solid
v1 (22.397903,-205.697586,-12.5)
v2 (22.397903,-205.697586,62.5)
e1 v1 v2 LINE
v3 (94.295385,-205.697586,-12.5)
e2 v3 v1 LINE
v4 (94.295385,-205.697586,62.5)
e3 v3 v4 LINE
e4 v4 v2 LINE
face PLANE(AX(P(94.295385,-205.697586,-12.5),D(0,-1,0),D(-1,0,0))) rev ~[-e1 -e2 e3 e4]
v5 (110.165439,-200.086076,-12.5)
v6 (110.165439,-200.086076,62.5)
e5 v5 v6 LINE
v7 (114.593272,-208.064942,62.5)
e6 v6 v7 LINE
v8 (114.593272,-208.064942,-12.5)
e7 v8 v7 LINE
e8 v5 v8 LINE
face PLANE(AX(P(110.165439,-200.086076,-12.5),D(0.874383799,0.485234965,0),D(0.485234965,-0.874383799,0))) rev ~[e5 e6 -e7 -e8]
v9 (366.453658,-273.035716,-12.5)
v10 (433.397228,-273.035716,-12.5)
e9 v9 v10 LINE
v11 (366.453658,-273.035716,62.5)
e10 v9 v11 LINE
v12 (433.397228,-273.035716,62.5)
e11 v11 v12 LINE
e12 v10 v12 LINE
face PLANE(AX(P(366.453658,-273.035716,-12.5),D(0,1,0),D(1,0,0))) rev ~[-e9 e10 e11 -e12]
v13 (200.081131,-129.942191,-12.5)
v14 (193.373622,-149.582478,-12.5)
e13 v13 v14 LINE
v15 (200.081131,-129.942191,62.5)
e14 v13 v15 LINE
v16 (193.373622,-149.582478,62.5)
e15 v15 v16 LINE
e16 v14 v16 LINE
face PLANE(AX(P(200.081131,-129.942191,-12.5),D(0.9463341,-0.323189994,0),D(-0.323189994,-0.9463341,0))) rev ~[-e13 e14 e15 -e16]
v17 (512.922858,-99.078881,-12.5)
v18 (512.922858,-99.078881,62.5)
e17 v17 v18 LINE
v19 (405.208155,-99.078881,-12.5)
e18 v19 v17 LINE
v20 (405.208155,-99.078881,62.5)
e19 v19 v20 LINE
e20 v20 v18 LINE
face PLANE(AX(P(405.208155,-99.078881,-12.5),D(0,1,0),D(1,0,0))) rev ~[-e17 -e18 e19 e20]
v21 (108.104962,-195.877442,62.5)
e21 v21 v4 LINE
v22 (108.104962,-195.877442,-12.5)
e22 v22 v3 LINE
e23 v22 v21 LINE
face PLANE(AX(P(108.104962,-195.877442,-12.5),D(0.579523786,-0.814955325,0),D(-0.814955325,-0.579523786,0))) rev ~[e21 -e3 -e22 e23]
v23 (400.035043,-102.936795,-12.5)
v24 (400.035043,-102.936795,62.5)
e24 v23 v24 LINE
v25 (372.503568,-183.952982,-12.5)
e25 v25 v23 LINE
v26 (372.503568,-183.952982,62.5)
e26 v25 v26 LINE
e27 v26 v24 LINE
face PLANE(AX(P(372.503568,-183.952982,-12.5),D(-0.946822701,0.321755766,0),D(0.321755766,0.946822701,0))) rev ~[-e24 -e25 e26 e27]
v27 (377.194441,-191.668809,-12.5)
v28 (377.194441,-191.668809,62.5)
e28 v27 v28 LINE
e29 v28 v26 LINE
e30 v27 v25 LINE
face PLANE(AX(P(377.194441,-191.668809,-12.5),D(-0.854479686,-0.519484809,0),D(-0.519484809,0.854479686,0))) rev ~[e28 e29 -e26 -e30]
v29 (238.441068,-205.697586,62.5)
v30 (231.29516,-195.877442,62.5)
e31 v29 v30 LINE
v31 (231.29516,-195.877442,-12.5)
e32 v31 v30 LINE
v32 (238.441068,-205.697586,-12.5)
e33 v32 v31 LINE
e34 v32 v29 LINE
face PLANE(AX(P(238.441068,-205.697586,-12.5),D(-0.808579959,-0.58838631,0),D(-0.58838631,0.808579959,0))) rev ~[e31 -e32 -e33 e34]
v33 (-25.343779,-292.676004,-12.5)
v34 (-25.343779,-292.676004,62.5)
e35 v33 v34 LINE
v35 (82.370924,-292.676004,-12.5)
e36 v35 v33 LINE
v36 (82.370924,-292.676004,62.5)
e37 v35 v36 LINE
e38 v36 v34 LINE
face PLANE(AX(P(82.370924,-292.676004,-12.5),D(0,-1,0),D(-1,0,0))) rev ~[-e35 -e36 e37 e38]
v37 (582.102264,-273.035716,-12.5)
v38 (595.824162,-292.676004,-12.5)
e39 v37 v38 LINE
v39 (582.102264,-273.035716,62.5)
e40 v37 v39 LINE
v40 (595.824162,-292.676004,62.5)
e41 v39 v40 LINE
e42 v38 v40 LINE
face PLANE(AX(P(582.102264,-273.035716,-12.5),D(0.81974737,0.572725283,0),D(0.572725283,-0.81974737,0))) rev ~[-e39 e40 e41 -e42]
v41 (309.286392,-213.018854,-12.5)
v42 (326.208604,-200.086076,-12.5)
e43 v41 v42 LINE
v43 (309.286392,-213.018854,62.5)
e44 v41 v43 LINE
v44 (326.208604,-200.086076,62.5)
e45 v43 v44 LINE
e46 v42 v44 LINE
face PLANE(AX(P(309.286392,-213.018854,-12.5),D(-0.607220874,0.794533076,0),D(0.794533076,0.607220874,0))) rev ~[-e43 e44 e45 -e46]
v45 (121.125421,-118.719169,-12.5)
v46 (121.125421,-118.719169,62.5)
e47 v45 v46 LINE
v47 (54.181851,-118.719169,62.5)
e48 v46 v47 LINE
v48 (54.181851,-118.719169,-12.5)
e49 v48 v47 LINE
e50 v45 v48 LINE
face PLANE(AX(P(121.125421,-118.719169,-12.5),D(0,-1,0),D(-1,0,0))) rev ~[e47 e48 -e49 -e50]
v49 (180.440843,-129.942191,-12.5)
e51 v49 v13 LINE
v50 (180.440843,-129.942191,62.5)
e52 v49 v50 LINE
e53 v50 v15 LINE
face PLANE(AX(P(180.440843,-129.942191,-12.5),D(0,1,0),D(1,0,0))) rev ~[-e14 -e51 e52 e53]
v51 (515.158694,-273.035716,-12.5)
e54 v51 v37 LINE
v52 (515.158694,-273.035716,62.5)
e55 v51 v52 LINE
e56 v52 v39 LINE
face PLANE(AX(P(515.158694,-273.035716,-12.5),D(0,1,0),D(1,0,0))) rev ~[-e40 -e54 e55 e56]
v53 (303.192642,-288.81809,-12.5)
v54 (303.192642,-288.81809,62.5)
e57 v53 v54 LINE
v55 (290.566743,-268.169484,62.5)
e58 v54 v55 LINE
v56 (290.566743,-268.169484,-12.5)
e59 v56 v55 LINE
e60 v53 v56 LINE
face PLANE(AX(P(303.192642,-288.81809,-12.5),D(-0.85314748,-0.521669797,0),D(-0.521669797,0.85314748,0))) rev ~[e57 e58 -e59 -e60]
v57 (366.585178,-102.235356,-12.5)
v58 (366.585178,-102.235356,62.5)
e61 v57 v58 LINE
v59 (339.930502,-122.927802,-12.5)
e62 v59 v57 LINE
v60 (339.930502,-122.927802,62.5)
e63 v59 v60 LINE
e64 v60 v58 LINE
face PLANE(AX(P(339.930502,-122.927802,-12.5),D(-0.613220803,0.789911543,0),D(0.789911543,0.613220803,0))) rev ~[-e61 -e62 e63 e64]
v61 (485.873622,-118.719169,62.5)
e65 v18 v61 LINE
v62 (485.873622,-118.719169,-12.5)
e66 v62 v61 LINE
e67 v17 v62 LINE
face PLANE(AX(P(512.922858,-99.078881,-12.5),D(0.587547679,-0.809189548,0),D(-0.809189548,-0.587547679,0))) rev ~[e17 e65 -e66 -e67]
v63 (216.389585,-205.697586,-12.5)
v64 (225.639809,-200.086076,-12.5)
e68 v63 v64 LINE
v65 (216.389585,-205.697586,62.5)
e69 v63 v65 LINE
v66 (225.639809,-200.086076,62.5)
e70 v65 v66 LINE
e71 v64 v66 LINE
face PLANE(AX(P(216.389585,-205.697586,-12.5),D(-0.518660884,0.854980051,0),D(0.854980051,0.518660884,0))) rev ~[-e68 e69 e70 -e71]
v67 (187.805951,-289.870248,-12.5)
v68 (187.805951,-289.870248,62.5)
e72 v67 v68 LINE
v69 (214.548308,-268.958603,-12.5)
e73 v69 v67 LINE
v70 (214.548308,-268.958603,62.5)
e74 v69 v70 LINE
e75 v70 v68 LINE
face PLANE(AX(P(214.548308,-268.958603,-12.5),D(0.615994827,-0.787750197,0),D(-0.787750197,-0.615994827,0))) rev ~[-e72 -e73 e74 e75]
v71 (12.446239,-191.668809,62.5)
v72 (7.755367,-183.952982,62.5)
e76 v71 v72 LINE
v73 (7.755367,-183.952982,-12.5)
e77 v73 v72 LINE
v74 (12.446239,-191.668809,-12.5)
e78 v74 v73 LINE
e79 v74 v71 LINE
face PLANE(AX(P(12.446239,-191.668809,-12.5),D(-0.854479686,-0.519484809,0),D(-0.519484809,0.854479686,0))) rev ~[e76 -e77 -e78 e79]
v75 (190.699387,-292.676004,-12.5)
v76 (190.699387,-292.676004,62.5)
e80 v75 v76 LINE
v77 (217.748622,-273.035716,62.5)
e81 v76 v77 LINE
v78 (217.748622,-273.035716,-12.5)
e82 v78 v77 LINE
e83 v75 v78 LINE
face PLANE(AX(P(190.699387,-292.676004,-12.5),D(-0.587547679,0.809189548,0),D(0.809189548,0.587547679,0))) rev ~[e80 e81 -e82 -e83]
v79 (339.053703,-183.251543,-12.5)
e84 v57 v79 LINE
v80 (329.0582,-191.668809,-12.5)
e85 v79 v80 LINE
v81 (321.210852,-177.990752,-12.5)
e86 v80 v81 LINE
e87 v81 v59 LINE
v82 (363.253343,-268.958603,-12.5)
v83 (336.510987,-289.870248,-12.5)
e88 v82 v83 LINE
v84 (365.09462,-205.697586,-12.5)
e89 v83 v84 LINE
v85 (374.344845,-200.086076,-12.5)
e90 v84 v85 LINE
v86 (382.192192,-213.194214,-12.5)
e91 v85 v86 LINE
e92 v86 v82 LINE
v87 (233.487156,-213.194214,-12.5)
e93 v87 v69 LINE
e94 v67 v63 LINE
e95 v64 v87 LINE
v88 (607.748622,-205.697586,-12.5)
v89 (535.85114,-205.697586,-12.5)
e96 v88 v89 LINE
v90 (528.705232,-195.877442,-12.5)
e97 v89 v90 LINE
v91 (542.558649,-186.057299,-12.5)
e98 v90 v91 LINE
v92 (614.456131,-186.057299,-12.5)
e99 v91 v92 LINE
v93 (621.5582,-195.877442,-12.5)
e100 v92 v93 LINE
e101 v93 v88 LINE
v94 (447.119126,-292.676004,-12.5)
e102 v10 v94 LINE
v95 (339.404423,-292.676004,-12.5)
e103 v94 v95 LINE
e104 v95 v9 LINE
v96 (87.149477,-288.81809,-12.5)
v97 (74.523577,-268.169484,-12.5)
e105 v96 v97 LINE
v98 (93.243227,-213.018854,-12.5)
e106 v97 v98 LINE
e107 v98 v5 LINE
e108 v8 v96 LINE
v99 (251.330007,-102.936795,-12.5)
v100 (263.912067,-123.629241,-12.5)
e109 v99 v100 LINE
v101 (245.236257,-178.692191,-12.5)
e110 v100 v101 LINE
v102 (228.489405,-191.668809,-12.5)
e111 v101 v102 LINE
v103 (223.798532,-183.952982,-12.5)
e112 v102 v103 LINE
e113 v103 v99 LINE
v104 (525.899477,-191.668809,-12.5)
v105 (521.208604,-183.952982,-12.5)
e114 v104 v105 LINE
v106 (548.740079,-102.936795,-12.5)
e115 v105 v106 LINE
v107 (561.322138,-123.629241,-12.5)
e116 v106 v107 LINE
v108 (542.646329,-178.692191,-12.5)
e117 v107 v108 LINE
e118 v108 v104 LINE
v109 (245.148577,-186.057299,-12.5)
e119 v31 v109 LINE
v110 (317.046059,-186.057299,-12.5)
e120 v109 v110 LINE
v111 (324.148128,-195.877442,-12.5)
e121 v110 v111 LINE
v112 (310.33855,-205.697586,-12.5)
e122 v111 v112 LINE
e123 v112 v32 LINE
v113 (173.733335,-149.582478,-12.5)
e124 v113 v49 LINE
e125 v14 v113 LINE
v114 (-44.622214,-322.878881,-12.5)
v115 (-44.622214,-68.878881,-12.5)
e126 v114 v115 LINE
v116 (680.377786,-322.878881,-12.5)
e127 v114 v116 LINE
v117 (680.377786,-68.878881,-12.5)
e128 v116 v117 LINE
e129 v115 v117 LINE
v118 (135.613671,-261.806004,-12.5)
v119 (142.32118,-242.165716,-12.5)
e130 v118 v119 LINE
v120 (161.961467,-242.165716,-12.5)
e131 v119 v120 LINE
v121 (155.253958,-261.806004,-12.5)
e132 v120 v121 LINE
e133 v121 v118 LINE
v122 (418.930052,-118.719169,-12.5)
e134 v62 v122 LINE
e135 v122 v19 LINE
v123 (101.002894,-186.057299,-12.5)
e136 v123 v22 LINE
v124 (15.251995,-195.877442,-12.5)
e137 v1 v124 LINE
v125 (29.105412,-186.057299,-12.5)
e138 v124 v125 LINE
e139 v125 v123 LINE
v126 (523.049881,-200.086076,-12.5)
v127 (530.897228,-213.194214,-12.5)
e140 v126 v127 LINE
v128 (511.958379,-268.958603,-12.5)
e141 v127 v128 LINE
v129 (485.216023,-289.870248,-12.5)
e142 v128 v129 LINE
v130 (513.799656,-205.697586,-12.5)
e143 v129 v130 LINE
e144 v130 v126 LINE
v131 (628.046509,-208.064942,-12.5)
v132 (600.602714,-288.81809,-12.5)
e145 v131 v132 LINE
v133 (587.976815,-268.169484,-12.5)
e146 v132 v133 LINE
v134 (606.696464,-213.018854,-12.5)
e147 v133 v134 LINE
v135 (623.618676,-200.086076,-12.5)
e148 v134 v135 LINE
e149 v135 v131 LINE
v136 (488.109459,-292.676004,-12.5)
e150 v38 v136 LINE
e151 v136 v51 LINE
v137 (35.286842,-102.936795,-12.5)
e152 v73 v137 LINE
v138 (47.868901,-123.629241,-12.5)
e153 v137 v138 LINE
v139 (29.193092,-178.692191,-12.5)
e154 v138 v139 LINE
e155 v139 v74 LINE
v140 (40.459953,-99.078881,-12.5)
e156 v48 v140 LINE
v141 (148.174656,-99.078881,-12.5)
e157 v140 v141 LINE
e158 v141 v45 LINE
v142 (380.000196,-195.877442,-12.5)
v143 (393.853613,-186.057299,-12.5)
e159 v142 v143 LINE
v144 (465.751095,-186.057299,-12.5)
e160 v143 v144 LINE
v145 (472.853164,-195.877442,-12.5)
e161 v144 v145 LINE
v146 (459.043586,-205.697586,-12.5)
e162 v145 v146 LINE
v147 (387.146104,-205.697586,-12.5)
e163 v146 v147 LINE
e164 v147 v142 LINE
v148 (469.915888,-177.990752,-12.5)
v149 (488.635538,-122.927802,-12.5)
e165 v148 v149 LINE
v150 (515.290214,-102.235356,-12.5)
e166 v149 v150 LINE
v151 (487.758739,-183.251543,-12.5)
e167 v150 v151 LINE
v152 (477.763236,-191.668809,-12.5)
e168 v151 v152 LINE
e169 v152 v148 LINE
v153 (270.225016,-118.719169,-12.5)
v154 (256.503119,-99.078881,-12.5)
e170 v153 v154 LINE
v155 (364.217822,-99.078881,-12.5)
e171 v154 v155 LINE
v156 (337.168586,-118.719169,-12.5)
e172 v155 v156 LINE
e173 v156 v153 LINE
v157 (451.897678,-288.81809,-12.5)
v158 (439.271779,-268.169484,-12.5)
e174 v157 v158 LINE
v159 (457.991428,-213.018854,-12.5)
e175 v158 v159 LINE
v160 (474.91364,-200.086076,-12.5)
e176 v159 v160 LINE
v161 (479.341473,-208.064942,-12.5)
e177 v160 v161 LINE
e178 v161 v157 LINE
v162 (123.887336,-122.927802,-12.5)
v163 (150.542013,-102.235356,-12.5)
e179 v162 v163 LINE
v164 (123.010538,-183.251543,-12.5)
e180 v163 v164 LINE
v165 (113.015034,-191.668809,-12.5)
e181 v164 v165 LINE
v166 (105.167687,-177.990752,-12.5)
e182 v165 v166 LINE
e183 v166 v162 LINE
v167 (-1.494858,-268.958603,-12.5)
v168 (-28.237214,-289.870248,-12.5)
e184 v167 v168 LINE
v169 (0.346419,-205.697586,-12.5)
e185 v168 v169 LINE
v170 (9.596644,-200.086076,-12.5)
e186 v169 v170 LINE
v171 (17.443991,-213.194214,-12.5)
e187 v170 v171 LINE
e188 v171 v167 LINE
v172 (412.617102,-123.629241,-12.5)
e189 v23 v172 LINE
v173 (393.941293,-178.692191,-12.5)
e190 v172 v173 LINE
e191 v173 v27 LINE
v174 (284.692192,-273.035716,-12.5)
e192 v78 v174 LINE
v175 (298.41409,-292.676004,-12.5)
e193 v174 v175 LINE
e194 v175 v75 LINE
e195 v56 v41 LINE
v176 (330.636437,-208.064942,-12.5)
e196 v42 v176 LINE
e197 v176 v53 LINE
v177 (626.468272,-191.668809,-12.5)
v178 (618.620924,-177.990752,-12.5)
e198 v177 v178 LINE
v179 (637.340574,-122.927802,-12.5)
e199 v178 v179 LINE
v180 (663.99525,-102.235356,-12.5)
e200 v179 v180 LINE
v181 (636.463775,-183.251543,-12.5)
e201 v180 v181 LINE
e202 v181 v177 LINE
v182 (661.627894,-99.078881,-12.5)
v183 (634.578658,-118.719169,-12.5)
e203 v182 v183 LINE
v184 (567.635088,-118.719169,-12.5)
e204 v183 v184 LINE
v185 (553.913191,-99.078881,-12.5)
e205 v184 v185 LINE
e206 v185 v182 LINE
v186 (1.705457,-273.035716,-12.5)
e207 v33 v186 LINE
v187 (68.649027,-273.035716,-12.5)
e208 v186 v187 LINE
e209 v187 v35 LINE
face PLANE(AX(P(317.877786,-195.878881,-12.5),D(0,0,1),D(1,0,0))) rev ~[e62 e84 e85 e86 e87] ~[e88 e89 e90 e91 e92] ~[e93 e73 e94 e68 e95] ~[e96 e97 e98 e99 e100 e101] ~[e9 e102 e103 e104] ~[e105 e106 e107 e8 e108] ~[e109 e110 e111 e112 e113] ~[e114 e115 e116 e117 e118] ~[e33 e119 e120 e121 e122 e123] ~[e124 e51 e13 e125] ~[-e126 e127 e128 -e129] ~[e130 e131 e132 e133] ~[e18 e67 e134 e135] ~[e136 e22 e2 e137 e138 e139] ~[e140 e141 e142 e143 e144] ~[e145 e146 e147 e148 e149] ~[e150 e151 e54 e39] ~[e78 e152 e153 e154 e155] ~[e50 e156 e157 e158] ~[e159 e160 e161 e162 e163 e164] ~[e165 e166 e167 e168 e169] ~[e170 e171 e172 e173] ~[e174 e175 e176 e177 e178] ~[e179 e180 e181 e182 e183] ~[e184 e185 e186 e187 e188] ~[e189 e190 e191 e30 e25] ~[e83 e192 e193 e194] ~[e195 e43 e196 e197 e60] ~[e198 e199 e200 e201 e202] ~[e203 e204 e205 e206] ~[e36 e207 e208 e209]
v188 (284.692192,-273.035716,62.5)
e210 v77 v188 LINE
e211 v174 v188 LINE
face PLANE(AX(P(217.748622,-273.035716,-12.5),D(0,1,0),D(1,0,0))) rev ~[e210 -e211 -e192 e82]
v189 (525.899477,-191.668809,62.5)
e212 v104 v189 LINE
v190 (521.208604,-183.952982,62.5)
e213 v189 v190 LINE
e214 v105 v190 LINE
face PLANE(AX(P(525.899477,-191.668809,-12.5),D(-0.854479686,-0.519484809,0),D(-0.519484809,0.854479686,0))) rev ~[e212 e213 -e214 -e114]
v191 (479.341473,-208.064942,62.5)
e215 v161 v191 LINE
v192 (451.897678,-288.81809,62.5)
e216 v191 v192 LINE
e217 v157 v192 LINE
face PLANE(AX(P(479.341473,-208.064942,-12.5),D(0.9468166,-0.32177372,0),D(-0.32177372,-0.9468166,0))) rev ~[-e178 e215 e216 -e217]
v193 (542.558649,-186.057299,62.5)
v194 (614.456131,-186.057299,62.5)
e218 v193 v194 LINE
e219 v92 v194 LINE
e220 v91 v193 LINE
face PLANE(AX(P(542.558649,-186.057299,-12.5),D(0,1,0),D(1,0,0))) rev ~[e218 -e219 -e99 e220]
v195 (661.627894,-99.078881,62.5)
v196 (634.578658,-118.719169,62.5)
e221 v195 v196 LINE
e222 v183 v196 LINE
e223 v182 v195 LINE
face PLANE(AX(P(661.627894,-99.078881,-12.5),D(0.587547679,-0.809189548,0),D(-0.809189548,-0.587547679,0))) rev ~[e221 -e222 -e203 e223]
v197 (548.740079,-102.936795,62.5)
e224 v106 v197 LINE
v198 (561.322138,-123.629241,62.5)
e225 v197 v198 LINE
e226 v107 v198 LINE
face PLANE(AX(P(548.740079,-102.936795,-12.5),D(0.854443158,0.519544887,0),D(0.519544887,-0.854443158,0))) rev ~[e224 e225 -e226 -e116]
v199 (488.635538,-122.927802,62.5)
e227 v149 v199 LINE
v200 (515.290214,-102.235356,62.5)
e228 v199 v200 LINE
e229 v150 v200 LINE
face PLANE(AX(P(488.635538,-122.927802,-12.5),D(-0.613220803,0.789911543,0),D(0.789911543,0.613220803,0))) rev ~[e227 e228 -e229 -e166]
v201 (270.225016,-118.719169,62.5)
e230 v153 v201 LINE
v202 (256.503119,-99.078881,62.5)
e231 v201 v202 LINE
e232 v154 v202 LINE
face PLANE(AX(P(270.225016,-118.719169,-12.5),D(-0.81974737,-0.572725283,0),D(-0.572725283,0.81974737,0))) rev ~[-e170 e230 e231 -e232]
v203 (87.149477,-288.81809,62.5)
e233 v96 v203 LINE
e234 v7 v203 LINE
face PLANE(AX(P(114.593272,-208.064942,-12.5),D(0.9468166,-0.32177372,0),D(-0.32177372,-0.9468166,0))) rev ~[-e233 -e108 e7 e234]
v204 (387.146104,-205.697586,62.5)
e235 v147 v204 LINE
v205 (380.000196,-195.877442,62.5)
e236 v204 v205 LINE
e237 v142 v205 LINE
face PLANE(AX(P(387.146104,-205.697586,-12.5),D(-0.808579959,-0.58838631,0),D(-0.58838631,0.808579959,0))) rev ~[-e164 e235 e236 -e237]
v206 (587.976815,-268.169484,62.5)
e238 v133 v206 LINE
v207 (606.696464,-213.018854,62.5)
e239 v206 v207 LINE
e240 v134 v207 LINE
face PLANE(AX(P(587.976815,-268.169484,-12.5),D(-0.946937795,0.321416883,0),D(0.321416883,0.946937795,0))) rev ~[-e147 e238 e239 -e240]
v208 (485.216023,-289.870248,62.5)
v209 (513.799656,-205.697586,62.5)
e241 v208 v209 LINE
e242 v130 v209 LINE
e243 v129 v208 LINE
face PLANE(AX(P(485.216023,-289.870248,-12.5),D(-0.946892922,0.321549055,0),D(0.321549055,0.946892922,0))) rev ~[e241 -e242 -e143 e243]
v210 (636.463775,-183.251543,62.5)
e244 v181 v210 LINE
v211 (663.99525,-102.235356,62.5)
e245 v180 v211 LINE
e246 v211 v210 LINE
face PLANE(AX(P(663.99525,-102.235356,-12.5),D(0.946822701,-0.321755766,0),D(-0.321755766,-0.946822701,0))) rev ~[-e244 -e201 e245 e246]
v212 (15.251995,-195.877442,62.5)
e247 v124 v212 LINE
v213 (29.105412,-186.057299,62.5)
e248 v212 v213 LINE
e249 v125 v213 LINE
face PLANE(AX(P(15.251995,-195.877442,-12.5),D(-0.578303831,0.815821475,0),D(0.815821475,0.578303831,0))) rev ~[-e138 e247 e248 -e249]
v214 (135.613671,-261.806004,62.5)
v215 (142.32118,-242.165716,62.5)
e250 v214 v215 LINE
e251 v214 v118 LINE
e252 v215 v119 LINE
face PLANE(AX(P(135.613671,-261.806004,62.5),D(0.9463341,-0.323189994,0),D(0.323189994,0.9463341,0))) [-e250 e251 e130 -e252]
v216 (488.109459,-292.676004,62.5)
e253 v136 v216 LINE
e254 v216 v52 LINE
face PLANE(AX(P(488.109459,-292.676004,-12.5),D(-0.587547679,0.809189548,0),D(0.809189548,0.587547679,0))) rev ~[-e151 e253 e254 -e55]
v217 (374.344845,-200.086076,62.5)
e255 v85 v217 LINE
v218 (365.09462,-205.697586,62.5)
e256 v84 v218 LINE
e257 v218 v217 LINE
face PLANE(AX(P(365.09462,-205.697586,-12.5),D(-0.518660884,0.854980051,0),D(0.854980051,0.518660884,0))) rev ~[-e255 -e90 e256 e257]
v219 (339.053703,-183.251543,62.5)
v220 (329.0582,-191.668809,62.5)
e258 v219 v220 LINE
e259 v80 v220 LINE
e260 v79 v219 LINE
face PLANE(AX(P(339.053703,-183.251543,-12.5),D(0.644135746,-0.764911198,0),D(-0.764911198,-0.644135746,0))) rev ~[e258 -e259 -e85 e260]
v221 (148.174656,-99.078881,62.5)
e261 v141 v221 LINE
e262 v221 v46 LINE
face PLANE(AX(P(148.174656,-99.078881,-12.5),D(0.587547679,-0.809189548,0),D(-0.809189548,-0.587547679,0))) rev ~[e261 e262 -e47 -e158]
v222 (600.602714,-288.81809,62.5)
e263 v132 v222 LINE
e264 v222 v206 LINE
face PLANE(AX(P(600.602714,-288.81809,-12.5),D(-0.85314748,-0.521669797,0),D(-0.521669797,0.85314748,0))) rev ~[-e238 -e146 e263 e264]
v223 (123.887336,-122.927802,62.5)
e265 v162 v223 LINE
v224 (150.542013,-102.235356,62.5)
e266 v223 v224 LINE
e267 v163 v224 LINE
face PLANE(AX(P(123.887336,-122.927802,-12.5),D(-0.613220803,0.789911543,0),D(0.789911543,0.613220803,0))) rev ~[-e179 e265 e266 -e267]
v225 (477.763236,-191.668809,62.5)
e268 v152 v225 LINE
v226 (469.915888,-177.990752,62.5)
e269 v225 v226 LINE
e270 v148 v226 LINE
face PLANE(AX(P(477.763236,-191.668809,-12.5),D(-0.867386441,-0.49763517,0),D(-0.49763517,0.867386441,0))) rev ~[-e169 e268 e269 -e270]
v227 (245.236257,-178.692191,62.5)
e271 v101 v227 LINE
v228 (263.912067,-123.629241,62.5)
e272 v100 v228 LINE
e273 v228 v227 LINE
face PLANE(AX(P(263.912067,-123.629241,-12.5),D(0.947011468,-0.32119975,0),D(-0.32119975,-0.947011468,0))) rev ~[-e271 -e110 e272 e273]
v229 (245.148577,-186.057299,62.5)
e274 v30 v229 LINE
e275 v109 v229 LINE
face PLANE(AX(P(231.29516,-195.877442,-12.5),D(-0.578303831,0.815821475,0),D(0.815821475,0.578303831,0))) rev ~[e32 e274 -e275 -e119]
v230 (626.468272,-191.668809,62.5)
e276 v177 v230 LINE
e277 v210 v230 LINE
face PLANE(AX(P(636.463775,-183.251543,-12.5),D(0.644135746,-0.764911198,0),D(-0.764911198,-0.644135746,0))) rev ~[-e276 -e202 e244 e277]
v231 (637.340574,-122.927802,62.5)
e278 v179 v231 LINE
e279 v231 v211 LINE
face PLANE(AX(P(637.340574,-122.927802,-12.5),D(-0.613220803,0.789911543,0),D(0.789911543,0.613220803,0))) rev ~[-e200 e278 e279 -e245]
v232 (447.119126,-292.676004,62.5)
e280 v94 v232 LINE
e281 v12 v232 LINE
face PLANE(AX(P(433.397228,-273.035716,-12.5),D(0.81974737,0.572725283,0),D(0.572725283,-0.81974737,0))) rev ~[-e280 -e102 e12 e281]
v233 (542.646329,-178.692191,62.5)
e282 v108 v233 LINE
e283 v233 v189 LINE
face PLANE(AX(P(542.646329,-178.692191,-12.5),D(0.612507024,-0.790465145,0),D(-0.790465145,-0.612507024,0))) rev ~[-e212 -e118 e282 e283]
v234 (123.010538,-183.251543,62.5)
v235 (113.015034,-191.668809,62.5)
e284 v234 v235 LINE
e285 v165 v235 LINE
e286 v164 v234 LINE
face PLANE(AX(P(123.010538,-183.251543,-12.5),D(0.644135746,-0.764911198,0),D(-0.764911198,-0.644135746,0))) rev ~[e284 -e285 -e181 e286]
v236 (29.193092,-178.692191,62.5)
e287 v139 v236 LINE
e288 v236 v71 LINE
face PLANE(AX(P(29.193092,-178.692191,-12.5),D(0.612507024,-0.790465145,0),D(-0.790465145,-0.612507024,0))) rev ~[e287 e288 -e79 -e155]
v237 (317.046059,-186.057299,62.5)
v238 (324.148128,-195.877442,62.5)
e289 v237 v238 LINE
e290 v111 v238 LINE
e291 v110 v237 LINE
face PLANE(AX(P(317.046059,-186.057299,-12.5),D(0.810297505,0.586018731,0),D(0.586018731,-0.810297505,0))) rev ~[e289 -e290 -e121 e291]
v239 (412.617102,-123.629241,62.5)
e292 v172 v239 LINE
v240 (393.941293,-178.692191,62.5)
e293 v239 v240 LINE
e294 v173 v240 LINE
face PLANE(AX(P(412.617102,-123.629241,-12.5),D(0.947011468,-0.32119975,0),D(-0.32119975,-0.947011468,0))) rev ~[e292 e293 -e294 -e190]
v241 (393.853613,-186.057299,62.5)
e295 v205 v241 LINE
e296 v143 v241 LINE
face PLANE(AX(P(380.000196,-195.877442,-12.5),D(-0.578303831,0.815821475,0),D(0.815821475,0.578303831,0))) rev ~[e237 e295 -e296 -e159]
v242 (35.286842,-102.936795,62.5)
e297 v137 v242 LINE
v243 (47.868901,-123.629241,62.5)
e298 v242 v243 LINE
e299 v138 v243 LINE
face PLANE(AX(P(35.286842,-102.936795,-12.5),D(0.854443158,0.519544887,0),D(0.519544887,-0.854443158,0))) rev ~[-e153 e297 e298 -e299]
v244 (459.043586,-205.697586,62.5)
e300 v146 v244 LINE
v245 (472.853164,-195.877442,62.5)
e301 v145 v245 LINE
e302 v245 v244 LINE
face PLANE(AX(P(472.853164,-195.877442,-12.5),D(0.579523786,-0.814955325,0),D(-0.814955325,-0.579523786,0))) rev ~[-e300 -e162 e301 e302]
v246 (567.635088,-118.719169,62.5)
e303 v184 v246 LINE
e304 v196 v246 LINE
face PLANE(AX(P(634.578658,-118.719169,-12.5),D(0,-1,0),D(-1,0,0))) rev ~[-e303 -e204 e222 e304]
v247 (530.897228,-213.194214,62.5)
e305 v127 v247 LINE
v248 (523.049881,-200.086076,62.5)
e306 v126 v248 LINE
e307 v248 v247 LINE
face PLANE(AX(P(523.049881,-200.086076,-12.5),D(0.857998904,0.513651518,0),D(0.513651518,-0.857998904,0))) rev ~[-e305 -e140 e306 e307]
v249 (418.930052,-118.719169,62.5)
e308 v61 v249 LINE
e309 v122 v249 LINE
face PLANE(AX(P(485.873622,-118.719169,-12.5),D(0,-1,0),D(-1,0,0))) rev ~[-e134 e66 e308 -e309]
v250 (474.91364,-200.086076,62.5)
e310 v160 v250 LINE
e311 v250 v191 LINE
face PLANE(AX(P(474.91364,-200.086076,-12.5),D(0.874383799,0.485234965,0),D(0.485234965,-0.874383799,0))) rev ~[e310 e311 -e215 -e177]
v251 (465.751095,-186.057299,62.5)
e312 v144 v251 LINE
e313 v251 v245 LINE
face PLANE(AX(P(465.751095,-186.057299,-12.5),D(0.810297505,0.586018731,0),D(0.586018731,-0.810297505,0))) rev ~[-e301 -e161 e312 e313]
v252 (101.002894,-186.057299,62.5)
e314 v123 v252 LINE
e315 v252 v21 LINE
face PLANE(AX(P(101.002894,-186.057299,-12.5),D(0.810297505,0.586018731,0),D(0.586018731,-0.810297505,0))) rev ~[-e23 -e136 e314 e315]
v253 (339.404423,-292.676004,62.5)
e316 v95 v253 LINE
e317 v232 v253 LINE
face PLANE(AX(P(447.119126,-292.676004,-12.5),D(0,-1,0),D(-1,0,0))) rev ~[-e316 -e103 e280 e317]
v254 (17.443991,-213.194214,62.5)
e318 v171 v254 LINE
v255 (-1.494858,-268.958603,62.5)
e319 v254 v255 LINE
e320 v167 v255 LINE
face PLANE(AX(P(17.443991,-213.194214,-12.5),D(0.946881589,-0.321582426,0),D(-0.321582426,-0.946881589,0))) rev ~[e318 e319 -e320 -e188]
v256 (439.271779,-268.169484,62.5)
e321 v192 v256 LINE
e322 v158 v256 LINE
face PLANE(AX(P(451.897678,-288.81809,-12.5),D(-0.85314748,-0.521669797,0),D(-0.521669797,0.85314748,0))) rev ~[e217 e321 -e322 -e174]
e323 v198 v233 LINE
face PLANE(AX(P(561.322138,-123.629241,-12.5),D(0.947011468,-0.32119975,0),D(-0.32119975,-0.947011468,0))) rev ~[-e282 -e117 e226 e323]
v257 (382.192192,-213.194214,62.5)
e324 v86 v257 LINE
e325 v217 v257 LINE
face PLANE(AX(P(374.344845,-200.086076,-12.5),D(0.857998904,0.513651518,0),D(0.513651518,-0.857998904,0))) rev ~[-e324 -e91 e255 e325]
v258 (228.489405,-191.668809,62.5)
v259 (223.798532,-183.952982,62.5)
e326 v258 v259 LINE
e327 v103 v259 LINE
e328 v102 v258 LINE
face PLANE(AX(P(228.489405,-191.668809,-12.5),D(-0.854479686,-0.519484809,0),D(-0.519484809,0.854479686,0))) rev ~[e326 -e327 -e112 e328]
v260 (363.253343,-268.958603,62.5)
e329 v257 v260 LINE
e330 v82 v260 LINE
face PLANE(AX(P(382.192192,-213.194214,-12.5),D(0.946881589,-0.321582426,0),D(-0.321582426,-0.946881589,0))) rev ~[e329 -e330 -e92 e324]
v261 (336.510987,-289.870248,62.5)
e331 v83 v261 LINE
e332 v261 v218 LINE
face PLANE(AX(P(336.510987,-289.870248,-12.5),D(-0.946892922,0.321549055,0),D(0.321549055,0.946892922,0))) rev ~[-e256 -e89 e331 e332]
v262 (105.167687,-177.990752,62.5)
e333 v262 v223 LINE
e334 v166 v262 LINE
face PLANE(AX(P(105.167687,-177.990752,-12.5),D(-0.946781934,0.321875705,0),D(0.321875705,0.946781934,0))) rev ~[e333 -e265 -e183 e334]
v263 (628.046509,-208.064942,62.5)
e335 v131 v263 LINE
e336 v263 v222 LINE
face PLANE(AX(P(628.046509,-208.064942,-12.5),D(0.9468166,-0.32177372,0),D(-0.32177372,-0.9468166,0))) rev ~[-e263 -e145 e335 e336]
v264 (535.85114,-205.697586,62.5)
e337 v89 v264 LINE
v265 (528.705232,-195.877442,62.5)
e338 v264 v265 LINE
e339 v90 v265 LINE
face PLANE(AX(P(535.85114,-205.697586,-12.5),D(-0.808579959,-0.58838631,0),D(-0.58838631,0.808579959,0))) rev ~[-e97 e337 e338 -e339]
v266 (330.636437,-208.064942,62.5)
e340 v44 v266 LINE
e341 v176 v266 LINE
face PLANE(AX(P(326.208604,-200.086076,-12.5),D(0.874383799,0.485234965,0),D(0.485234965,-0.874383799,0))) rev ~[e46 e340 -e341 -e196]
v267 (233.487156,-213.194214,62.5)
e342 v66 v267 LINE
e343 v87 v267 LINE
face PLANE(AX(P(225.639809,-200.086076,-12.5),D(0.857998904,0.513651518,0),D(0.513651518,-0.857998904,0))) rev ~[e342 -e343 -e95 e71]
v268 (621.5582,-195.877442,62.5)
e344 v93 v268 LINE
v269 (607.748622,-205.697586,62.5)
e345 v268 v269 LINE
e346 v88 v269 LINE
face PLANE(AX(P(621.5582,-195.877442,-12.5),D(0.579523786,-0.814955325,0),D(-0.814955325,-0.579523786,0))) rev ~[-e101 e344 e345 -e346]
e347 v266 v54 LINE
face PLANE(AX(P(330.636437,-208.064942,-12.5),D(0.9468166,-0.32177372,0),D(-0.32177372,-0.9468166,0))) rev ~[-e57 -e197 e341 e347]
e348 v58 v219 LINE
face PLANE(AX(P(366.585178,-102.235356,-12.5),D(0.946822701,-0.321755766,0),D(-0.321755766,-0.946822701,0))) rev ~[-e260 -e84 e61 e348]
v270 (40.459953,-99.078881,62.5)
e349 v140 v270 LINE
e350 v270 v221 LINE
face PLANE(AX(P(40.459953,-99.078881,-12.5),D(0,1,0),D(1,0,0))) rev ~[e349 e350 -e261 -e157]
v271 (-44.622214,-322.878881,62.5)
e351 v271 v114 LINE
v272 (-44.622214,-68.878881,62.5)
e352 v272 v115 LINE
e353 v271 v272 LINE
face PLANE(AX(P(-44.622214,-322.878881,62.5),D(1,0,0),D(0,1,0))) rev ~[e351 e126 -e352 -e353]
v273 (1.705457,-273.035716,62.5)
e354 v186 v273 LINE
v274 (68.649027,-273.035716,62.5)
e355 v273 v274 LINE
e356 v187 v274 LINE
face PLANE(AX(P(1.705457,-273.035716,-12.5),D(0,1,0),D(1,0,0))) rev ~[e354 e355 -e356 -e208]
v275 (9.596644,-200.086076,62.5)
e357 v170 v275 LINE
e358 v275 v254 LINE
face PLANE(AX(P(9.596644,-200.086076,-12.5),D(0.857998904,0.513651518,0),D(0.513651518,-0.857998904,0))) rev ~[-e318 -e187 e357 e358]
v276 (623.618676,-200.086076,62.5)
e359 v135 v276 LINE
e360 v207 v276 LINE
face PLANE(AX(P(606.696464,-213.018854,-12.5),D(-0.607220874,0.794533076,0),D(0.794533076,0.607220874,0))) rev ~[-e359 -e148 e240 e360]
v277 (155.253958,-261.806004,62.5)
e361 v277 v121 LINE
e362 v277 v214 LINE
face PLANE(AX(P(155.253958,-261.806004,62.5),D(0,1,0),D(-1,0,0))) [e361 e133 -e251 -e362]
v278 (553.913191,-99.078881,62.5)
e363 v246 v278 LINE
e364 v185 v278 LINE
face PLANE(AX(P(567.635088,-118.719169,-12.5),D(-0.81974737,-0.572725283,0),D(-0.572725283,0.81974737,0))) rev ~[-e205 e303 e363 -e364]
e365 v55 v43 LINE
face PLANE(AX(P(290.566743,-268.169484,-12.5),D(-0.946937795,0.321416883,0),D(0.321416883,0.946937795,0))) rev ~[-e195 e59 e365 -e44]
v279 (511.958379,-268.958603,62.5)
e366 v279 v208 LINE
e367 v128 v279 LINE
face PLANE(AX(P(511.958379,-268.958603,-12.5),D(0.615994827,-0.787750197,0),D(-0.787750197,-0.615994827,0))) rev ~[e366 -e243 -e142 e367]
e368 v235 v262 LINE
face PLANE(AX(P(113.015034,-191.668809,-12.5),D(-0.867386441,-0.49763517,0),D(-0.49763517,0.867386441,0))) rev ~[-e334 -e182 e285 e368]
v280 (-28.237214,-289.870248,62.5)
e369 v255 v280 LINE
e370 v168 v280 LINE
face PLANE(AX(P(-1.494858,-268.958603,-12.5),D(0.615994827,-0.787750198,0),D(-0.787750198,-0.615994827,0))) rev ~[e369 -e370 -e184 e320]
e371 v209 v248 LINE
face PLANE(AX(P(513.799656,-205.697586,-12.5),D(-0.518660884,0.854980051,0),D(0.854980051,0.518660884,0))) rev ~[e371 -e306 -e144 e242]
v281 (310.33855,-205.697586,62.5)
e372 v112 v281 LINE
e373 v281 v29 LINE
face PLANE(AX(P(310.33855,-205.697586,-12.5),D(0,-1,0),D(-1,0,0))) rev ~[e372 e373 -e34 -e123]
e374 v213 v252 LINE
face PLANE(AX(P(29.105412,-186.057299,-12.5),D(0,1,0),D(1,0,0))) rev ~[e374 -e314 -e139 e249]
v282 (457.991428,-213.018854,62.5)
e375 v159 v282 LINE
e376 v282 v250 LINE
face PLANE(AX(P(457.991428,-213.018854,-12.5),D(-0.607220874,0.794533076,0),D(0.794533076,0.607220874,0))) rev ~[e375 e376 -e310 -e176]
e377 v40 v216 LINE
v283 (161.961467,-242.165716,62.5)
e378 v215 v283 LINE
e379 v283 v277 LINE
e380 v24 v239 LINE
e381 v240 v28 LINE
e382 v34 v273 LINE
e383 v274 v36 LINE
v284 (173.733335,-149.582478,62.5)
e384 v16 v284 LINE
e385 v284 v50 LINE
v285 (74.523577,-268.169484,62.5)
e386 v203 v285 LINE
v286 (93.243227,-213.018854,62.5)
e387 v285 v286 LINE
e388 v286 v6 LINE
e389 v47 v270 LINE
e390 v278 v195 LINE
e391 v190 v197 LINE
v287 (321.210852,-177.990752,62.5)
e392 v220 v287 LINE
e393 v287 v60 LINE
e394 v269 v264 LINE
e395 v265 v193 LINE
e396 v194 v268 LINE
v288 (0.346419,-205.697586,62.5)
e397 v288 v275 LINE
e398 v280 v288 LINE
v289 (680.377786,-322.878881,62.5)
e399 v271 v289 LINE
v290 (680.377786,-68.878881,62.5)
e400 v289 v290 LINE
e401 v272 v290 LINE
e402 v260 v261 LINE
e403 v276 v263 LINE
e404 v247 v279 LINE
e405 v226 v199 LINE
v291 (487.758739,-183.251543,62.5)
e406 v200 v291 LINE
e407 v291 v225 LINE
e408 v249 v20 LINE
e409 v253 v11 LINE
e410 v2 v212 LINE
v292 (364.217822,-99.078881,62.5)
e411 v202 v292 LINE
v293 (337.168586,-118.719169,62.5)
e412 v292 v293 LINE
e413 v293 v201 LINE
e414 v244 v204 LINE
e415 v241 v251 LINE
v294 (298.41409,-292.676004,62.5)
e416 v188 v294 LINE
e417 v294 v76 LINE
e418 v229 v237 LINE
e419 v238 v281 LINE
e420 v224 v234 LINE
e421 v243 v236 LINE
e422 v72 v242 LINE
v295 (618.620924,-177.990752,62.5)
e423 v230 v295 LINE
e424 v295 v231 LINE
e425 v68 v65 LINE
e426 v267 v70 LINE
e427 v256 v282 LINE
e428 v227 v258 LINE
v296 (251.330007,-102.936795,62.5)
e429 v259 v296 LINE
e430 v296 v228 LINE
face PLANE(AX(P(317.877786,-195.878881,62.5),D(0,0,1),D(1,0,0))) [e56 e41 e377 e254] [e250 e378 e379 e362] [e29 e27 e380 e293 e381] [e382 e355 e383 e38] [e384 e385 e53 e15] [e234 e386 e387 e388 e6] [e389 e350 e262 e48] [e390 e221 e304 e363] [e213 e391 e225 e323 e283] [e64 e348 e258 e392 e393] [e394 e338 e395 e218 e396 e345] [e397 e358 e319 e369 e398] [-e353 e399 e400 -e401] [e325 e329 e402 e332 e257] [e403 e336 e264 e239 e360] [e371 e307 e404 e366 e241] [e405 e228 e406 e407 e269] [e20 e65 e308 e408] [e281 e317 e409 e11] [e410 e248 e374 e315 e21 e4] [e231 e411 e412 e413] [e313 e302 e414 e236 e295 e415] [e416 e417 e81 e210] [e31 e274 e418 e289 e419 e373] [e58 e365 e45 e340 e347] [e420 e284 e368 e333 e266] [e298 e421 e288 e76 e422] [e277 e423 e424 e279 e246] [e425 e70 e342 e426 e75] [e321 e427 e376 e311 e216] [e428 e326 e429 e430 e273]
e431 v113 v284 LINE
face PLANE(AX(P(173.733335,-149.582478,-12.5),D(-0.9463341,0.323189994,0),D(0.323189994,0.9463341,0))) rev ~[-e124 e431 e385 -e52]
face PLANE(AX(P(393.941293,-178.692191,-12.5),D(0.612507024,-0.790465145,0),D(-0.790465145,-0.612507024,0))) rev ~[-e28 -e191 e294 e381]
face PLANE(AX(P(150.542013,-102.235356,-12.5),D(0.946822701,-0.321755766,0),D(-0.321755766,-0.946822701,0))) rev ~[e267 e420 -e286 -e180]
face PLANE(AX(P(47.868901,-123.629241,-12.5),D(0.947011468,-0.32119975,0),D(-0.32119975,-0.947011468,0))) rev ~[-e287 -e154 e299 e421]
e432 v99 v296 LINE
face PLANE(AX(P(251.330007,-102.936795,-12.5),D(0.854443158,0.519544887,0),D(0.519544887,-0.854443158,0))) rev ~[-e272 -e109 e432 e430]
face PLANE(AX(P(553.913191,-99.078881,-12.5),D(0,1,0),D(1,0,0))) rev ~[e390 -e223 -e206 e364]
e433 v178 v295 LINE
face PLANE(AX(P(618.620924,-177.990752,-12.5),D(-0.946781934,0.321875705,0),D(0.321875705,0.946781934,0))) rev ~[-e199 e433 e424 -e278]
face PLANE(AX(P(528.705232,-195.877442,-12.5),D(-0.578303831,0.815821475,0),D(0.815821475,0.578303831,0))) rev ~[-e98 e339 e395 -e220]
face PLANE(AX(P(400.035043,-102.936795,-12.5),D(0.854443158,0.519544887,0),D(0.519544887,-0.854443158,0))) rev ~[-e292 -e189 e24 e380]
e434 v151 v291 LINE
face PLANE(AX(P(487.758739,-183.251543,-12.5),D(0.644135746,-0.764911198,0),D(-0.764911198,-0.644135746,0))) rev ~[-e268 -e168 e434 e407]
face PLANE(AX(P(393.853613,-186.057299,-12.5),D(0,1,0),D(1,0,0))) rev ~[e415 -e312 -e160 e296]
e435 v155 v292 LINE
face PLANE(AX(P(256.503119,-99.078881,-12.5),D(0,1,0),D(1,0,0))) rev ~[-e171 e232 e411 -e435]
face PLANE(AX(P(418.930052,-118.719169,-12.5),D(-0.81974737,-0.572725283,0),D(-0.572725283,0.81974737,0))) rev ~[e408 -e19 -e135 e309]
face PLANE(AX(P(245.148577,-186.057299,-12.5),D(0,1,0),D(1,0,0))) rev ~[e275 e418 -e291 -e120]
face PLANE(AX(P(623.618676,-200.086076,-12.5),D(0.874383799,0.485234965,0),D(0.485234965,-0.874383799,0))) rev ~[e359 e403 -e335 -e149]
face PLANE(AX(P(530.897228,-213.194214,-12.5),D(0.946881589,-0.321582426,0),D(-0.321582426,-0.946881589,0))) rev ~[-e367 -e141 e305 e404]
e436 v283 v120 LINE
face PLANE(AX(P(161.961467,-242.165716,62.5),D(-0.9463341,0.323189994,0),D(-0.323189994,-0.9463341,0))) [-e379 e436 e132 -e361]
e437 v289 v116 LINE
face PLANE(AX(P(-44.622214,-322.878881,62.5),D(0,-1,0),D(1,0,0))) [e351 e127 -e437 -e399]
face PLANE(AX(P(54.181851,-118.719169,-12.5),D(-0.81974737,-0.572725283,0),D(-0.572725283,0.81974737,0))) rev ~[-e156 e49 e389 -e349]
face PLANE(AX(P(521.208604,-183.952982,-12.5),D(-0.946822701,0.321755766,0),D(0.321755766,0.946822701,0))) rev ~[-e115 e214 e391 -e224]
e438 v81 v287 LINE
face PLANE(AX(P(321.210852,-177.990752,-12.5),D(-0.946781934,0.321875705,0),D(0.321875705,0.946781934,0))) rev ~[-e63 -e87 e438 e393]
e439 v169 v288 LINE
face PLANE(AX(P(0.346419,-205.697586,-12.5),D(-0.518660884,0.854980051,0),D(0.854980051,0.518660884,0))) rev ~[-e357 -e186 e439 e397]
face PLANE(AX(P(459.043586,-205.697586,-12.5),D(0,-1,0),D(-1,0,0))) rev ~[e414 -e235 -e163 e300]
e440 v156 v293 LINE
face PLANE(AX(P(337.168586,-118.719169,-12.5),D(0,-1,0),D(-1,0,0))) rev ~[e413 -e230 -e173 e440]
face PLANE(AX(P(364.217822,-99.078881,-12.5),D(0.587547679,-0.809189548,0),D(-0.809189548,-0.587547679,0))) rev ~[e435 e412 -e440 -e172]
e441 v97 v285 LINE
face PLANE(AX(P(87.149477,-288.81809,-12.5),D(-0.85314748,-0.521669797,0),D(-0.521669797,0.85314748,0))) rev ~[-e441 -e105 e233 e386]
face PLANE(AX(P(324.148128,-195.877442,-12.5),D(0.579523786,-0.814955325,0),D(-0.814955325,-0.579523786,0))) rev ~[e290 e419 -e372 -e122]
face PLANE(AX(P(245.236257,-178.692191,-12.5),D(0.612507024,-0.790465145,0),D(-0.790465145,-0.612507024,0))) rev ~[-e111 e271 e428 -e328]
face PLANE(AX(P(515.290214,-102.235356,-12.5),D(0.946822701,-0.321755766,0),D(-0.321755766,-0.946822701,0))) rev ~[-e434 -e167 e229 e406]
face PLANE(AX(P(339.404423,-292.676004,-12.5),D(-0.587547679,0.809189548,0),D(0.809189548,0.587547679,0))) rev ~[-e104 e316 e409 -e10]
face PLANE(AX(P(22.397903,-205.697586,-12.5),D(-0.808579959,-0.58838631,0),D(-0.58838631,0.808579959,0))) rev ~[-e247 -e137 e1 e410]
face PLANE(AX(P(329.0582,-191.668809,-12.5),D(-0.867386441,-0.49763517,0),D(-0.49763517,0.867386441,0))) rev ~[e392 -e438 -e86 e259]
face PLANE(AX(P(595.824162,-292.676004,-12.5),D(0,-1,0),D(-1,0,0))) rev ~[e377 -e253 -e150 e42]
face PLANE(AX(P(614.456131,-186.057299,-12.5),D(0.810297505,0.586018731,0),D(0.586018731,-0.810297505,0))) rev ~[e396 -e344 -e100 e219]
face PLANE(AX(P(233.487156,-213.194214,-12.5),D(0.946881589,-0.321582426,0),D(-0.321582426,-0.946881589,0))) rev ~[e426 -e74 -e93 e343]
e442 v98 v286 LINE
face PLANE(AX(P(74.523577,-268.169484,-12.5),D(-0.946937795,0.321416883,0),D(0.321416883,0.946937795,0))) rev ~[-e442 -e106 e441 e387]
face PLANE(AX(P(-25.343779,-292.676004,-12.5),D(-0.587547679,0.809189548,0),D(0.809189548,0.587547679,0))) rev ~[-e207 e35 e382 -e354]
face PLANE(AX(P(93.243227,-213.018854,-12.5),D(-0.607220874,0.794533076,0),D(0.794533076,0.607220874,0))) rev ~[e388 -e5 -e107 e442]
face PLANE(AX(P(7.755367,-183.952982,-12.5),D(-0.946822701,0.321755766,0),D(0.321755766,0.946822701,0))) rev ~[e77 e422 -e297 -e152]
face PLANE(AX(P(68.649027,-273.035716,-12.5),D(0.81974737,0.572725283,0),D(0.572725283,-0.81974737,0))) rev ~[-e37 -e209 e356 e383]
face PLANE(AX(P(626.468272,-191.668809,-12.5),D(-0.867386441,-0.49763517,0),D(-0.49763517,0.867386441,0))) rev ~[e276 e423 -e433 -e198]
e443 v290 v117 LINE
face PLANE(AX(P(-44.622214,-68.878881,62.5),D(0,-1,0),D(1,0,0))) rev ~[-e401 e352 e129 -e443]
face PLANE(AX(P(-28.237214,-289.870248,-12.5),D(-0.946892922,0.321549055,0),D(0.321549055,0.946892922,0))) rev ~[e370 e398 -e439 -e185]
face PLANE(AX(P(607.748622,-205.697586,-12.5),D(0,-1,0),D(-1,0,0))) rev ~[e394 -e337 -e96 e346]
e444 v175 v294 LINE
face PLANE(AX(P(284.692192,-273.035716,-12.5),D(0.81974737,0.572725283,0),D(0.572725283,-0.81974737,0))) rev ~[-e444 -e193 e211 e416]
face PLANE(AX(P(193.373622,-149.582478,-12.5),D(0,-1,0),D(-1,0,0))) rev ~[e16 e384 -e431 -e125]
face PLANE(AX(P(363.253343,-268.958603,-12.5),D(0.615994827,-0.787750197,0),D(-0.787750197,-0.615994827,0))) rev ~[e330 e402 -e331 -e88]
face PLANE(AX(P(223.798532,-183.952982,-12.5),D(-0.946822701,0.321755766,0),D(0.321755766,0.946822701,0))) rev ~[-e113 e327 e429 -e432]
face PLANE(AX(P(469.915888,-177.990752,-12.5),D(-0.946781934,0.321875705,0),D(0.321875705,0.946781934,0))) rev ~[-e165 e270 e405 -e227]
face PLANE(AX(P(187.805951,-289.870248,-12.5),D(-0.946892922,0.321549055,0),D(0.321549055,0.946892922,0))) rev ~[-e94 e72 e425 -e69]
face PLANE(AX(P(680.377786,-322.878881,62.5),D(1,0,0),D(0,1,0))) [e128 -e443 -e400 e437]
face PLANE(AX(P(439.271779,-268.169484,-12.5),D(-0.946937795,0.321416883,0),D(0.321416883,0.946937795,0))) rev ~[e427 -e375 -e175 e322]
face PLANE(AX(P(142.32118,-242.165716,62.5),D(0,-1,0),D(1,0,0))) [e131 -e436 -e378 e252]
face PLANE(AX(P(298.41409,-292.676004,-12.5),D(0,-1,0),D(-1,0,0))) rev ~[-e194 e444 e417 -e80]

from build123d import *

# Parameters (mm, degrees)
SKETCH_1_W            = 500
SKETCH_1_H            = 220
EXTRUDE_1_DEPTH       = 50
CUT_EXTRUDE_1_DEPTH   = 65
SKETCH_3_W            = 24.993501938
SKETCH_3_H            = 24.754329671
EXTRUDE_2_DEPTH       = 50
SKETCH_4_W            = 557.488309353
SKETCH_4_H            = 263.064748201
SKETCH_4_W_2          = 497.488309353
SKETCH_4_H_2          = 203.064748201
CUT_EXTRUDE_1_2_DEPTH = 84
SCALE_1_SCALE         = 1.5
SKETCH_8_W            = 822.232464029
SKETCH_8_H            = 353.597122302
SKETCH_8_W_2          = 722.232464029
SKETCH_8_H_2          = 253.597122302
CUT_EXTRUDE_2_DEPTH   = 180
SKETCH_9_W            = 725
SKETCH_9_H            = 254
SKETCH_9_W_2          = 708.249145706
SKETCH_9_H_2          = 240.894932361
EXTRUDE_4_DEPTH       = 75


with BuildPart() as part:
    # Эскиз1 → Бобышка-Вытянуть1 (new body)
    with BuildSketch(Plane.XY):
        with Locations((315.178539616, -203.237931197)):
            Rectangle(SKETCH_1_W, SKETCH_1_H)
        Polygon((203.546220768, -131.339893042), (185.513397027, -144.433418222), (140.884350264, -144.433418222), (131.736418609, -131.339893042), align=None, mode=Mode.SUBTRACT)
        Polygon((159.677066091, -260.404641243), (87.867263933, -260.404641243), (105.900087674, -247.311116064), (150.529134437, -247.311116064), align=None, mode=Mode.SUBTRACT)
        Polygon((116.392443789, -207.416781531), (103.766544509, -244.593040524), (85.938307098, -258.534137646), (104.994062494, -202.419029733), (111.160879041, -198.678022538), align=None, mode=Mode.SUBTRACT)
        Polygon((109.933361055, -187.922626855), (128.287677602, -133.911835488), (136.67571717, -147.706799517), (124.225177602, -184.41543261), (113.060609257, -193.066511747), align=None, mode=Mode.SUBTRACT)
        Polygon((181.158630839, -203.997267143), (162.86276753, -257.832698797), (154.445501343, -244.066961387), (166.92526753, -207.299875056), (178.20674235, -198.678022538), align=None, mode=Mode.SUBTRACT)
        Polygon((174.874907818, -183.947806711), (187.354674005, -147.239173618), (205.124458178, -133.444209589), (186.770141631, -187.455000956), (180.106472566, -193.066511747), align=None, mode=Mode.SUBTRACT)
        Polygon((172.098379041, -189.325504553), (176.833091271, -195.872267143), (167.626706379, -202.419029733), (119.695051703, -202.419029733), (114.931112854, -195.872267143), (124.166724365, -189.325504553), align=None, mode=Mode.SUBTRACT)
        Polygon((188.173019329, -260.404641243), (192.615465372, -247.311116064), (205.708990552, -247.311116064), (201.266544509, -260.404641243), align=None, mode=Mode.SUBTRACT)
        Polygon((220.585339473, -165.00895779), (225.057012134, -151.91543261), (238.150537314, -151.91543261), (233.678864652, -165.00895779), align=None, mode=Mode.SUBTRACT)
        Polygon((347.574997746, -131.339893042), (329.542174005, -144.433418222), (284.913127242, -144.433418222), (275.765195588, -131.339893042), align=None, mode=Mode.SUBTRACT)
        Polygon((303.70584307, -260.404641243), (231.896040911, -260.404641243), (249.928864652, -247.311116064), (294.557911415, -247.311116064), align=None, mode=Mode.SUBTRACT)
        Polygon((260.421220768, -207.416781531), (247.795321487, -244.593040524), (229.967084077, -258.534137646), (249.022839473, -202.419029733), (255.189656019, -198.678022538), align=None, mode=Mode.SUBTRACT)
        Polygon((253.962138034, -187.922626855), (272.31645458, -133.911835488), (280.704494149, -147.706799517), (268.25395458, -184.41543261), (257.089386235, -193.066511747), align=None, mode=Mode.SUBTRACT)
        Polygon((325.187407818, -203.997267143), (306.891544509, -257.832698797), (298.474278321, -244.066961387), (310.954044509, -207.299875056), (322.235519329, -198.678022538), align=None, mode=Mode.SUBTRACT)
        Polygon((318.903684796, -183.947806711), (331.383450983, -147.239173618), (349.153235156, -133.444209589), (330.798918609, -187.455000956), (324.135249545, -193.066511747), align=None, mode=Mode.SUBTRACT)
        Polygon((316.127156019, -189.325504553), (320.86186825, -195.872267143), (311.655483357, -202.419029733), (263.723828681, -202.419029733), (258.959889832, -195.872267143), (268.195501343, -189.325504553), align=None, mode=Mode.SUBTRACT)
        Polygon((446.711688393, -131.339893042), (428.678864652, -144.433418222), (384.04981789, -144.433418222), (374.901886235, -131.339893042), align=None, mode=Mode.SUBTRACT)
        Polygon((402.842533717, -260.404641243), (331.032731559, -260.404641243), (349.0655553, -247.311116064), (393.694602063, -247.311116064), align=None, mode=Mode.SUBTRACT)
        Polygon((359.557911415, -207.416781531), (346.932012134, -244.593040524), (329.103774724, -258.534137646), (348.15953012, -202.419029733), (354.326346667, -198.678022538), align=None, mode=Mode.SUBTRACT)
        Polygon((353.098828681, -187.922626855), (371.453145228, -133.911835488), (379.841184796, -147.706799517), (367.390645228, -184.41543261), (356.226076883, -193.066511747), align=None, mode=Mode.SUBTRACT)
        Polygon((424.324098465, -203.997267143), (406.028235156, -257.832698797), (397.610968969, -244.066961387), (410.090735156, -207.299875056), (421.372209976, -198.678022538), align=None, mode=Mode.SUBTRACT)
        Polygon((418.040375444, -183.947806711), (430.520141631, -147.239173618), (448.289925804, -133.444209589), (429.935609257, -187.455000956), (423.271940192, -193.066511747), align=None, mode=Mode.SUBTRACT)
        Polygon((415.263846667, -189.325504553), (419.998558897, -195.872267143), (410.792174005, -202.419029733), (362.860519329, -202.419029733), (358.09658048, -195.872267143), (367.332191991, -189.325504553), align=None, mode=Mode.SUBTRACT)
        Polygon((545.848379041, -131.339893042), (527.8155553, -144.433418222), (483.186508537, -144.433418222), (474.038576883, -131.339893042), align=None, mode=Mode.SUBTRACT)
        Polygon((501.979224365, -260.404641243), (430.169422206, -260.404641243), (448.202245947, -247.311116064), (492.83129271, -247.311116064), align=None, mode=Mode.SUBTRACT)
        Polygon((458.694602063, -207.416781531), (446.068702782, -244.593040524), (428.240465372, -258.534137646), (447.296220768, -202.419029733), (453.463037314, -198.678022538), align=None, mode=Mode.SUBTRACT)
        Polygon((452.235519329, -187.922626855), (470.589835875, -133.911835488), (478.977875444, -147.706799517), (466.527335875, -184.41543261), (455.36276753, -193.066511747), align=None, mode=Mode.SUBTRACT)
        Polygon((523.460789113, -203.997267143), (505.164925804, -257.832698797), (496.747659616, -244.066961387), (509.227425804, -207.299875056), (520.508900624, -198.678022538), align=None, mode=Mode.SUBTRACT)
        Polygon((517.177066091, -183.947806711), (529.656832278, -147.239173618), (547.426616451, -133.444209589), (529.072299904, -187.455000956), (522.408630839, -193.066511747), align=None, mode=Mode.SUBTRACT)
        Polygon((514.400537314, -189.325504553), (519.135249545, -195.872267143), (509.928864652, -202.419029733), (461.997209976, -202.419029733), (457.233271127, -195.872267143), (466.468882638, -189.325504553), align=None, mode=Mode.SUBTRACT)
    extrude(amount=EXTRUDE_1_DEPTH)

    # Эскиз2 → Cut-Extrude 1 (cut)
    with BuildSketch(Plane.XY.offset(50)):
        Polygon((225.057012134, -151.91543261), (238.150537314, -151.91543261), (233.678864652, -165.00895779), (220.585339473, -165.00895779), align=None)
        Polygon((199.643902872, -226.731116064), (212.737428052, -226.731116064), (208.26575539, -239.824641243), (195.17223021, -239.824641243), align=None)
    extrude(amount=-CUT_EXTRUDE_1_DEPTH, mode=Mode.SUBTRACT)

    # Эскиз3 → Бобышка-Вытянуть2 (add)
    with BuildSketch(Plane.XY.offset(50)):
        with Locations((196.457377331, -256.289777907)):
            Rectangle(SKETCH_3_W, SKETCH_3_H)
    extrude(amount=-EXTRUDE_2_DEPTH)

    # Эскиз4 → Cut-Extrude 1 2 (cut)
    with BuildSketch(Plane.XY.offset(50)):
        with Locations((316.682461775, -195.872267142)):
            Rectangle(SKETCH_4_W, SKETCH_4_H)
        with Locations((316.682461775, -195.872267142)):
            Rectangle(SKETCH_4_W_2, SKETCH_4_H_2, mode=Mode.SUBTRACT)
    extrude(amount=-CUT_EXTRUDE_1_2_DEPTH, mode=Mode.SUBTRACT)


with BuildPart() as part_1:
    # Масштаб1: scaled about (314.289349403, -195.861916492, 25)
    add(part.part.scale(SCALE_1_SCALE).moved(Location((-157.144674702, 97.930958246, -12.5))))

    # Эскиз8 → Вырез-Вытянуть-Тонкостенный2 (cut)
    with BuildSketch(Plane.XY.offset(62.5)):
        with Locations((317.879017961, -195.877442468)):
            Rectangle(SKETCH_8_W, SKETCH_8_H)
        with Locations((317.879017961, -195.877442468)):
            Rectangle(SKETCH_8_W_2, SKETCH_8_H_2, mode=Mode.SUBTRACT)
    extrude(amount=-CUT_EXTRUDE_2_DEPTH, mode=Mode.SUBTRACT)

    # Эскиз9 → Бобышка-Вытянуть4 (add)
    with BuildSketch(Plane.XY.offset(62.5)):
        with Locations((317.877785946, -195.878881317)):
            Rectangle(SKETCH_9_W, SKETCH_9_H)
        with Locations((317.250065853, -196.40613993)):
            Rectangle(SKETCH_9_W_2, SKETCH_9_H_2, mode=Mode.SUBTRACT)
    extrude(amount=-EXTRUDE_4_DEPTH)


solid = part_1.part
